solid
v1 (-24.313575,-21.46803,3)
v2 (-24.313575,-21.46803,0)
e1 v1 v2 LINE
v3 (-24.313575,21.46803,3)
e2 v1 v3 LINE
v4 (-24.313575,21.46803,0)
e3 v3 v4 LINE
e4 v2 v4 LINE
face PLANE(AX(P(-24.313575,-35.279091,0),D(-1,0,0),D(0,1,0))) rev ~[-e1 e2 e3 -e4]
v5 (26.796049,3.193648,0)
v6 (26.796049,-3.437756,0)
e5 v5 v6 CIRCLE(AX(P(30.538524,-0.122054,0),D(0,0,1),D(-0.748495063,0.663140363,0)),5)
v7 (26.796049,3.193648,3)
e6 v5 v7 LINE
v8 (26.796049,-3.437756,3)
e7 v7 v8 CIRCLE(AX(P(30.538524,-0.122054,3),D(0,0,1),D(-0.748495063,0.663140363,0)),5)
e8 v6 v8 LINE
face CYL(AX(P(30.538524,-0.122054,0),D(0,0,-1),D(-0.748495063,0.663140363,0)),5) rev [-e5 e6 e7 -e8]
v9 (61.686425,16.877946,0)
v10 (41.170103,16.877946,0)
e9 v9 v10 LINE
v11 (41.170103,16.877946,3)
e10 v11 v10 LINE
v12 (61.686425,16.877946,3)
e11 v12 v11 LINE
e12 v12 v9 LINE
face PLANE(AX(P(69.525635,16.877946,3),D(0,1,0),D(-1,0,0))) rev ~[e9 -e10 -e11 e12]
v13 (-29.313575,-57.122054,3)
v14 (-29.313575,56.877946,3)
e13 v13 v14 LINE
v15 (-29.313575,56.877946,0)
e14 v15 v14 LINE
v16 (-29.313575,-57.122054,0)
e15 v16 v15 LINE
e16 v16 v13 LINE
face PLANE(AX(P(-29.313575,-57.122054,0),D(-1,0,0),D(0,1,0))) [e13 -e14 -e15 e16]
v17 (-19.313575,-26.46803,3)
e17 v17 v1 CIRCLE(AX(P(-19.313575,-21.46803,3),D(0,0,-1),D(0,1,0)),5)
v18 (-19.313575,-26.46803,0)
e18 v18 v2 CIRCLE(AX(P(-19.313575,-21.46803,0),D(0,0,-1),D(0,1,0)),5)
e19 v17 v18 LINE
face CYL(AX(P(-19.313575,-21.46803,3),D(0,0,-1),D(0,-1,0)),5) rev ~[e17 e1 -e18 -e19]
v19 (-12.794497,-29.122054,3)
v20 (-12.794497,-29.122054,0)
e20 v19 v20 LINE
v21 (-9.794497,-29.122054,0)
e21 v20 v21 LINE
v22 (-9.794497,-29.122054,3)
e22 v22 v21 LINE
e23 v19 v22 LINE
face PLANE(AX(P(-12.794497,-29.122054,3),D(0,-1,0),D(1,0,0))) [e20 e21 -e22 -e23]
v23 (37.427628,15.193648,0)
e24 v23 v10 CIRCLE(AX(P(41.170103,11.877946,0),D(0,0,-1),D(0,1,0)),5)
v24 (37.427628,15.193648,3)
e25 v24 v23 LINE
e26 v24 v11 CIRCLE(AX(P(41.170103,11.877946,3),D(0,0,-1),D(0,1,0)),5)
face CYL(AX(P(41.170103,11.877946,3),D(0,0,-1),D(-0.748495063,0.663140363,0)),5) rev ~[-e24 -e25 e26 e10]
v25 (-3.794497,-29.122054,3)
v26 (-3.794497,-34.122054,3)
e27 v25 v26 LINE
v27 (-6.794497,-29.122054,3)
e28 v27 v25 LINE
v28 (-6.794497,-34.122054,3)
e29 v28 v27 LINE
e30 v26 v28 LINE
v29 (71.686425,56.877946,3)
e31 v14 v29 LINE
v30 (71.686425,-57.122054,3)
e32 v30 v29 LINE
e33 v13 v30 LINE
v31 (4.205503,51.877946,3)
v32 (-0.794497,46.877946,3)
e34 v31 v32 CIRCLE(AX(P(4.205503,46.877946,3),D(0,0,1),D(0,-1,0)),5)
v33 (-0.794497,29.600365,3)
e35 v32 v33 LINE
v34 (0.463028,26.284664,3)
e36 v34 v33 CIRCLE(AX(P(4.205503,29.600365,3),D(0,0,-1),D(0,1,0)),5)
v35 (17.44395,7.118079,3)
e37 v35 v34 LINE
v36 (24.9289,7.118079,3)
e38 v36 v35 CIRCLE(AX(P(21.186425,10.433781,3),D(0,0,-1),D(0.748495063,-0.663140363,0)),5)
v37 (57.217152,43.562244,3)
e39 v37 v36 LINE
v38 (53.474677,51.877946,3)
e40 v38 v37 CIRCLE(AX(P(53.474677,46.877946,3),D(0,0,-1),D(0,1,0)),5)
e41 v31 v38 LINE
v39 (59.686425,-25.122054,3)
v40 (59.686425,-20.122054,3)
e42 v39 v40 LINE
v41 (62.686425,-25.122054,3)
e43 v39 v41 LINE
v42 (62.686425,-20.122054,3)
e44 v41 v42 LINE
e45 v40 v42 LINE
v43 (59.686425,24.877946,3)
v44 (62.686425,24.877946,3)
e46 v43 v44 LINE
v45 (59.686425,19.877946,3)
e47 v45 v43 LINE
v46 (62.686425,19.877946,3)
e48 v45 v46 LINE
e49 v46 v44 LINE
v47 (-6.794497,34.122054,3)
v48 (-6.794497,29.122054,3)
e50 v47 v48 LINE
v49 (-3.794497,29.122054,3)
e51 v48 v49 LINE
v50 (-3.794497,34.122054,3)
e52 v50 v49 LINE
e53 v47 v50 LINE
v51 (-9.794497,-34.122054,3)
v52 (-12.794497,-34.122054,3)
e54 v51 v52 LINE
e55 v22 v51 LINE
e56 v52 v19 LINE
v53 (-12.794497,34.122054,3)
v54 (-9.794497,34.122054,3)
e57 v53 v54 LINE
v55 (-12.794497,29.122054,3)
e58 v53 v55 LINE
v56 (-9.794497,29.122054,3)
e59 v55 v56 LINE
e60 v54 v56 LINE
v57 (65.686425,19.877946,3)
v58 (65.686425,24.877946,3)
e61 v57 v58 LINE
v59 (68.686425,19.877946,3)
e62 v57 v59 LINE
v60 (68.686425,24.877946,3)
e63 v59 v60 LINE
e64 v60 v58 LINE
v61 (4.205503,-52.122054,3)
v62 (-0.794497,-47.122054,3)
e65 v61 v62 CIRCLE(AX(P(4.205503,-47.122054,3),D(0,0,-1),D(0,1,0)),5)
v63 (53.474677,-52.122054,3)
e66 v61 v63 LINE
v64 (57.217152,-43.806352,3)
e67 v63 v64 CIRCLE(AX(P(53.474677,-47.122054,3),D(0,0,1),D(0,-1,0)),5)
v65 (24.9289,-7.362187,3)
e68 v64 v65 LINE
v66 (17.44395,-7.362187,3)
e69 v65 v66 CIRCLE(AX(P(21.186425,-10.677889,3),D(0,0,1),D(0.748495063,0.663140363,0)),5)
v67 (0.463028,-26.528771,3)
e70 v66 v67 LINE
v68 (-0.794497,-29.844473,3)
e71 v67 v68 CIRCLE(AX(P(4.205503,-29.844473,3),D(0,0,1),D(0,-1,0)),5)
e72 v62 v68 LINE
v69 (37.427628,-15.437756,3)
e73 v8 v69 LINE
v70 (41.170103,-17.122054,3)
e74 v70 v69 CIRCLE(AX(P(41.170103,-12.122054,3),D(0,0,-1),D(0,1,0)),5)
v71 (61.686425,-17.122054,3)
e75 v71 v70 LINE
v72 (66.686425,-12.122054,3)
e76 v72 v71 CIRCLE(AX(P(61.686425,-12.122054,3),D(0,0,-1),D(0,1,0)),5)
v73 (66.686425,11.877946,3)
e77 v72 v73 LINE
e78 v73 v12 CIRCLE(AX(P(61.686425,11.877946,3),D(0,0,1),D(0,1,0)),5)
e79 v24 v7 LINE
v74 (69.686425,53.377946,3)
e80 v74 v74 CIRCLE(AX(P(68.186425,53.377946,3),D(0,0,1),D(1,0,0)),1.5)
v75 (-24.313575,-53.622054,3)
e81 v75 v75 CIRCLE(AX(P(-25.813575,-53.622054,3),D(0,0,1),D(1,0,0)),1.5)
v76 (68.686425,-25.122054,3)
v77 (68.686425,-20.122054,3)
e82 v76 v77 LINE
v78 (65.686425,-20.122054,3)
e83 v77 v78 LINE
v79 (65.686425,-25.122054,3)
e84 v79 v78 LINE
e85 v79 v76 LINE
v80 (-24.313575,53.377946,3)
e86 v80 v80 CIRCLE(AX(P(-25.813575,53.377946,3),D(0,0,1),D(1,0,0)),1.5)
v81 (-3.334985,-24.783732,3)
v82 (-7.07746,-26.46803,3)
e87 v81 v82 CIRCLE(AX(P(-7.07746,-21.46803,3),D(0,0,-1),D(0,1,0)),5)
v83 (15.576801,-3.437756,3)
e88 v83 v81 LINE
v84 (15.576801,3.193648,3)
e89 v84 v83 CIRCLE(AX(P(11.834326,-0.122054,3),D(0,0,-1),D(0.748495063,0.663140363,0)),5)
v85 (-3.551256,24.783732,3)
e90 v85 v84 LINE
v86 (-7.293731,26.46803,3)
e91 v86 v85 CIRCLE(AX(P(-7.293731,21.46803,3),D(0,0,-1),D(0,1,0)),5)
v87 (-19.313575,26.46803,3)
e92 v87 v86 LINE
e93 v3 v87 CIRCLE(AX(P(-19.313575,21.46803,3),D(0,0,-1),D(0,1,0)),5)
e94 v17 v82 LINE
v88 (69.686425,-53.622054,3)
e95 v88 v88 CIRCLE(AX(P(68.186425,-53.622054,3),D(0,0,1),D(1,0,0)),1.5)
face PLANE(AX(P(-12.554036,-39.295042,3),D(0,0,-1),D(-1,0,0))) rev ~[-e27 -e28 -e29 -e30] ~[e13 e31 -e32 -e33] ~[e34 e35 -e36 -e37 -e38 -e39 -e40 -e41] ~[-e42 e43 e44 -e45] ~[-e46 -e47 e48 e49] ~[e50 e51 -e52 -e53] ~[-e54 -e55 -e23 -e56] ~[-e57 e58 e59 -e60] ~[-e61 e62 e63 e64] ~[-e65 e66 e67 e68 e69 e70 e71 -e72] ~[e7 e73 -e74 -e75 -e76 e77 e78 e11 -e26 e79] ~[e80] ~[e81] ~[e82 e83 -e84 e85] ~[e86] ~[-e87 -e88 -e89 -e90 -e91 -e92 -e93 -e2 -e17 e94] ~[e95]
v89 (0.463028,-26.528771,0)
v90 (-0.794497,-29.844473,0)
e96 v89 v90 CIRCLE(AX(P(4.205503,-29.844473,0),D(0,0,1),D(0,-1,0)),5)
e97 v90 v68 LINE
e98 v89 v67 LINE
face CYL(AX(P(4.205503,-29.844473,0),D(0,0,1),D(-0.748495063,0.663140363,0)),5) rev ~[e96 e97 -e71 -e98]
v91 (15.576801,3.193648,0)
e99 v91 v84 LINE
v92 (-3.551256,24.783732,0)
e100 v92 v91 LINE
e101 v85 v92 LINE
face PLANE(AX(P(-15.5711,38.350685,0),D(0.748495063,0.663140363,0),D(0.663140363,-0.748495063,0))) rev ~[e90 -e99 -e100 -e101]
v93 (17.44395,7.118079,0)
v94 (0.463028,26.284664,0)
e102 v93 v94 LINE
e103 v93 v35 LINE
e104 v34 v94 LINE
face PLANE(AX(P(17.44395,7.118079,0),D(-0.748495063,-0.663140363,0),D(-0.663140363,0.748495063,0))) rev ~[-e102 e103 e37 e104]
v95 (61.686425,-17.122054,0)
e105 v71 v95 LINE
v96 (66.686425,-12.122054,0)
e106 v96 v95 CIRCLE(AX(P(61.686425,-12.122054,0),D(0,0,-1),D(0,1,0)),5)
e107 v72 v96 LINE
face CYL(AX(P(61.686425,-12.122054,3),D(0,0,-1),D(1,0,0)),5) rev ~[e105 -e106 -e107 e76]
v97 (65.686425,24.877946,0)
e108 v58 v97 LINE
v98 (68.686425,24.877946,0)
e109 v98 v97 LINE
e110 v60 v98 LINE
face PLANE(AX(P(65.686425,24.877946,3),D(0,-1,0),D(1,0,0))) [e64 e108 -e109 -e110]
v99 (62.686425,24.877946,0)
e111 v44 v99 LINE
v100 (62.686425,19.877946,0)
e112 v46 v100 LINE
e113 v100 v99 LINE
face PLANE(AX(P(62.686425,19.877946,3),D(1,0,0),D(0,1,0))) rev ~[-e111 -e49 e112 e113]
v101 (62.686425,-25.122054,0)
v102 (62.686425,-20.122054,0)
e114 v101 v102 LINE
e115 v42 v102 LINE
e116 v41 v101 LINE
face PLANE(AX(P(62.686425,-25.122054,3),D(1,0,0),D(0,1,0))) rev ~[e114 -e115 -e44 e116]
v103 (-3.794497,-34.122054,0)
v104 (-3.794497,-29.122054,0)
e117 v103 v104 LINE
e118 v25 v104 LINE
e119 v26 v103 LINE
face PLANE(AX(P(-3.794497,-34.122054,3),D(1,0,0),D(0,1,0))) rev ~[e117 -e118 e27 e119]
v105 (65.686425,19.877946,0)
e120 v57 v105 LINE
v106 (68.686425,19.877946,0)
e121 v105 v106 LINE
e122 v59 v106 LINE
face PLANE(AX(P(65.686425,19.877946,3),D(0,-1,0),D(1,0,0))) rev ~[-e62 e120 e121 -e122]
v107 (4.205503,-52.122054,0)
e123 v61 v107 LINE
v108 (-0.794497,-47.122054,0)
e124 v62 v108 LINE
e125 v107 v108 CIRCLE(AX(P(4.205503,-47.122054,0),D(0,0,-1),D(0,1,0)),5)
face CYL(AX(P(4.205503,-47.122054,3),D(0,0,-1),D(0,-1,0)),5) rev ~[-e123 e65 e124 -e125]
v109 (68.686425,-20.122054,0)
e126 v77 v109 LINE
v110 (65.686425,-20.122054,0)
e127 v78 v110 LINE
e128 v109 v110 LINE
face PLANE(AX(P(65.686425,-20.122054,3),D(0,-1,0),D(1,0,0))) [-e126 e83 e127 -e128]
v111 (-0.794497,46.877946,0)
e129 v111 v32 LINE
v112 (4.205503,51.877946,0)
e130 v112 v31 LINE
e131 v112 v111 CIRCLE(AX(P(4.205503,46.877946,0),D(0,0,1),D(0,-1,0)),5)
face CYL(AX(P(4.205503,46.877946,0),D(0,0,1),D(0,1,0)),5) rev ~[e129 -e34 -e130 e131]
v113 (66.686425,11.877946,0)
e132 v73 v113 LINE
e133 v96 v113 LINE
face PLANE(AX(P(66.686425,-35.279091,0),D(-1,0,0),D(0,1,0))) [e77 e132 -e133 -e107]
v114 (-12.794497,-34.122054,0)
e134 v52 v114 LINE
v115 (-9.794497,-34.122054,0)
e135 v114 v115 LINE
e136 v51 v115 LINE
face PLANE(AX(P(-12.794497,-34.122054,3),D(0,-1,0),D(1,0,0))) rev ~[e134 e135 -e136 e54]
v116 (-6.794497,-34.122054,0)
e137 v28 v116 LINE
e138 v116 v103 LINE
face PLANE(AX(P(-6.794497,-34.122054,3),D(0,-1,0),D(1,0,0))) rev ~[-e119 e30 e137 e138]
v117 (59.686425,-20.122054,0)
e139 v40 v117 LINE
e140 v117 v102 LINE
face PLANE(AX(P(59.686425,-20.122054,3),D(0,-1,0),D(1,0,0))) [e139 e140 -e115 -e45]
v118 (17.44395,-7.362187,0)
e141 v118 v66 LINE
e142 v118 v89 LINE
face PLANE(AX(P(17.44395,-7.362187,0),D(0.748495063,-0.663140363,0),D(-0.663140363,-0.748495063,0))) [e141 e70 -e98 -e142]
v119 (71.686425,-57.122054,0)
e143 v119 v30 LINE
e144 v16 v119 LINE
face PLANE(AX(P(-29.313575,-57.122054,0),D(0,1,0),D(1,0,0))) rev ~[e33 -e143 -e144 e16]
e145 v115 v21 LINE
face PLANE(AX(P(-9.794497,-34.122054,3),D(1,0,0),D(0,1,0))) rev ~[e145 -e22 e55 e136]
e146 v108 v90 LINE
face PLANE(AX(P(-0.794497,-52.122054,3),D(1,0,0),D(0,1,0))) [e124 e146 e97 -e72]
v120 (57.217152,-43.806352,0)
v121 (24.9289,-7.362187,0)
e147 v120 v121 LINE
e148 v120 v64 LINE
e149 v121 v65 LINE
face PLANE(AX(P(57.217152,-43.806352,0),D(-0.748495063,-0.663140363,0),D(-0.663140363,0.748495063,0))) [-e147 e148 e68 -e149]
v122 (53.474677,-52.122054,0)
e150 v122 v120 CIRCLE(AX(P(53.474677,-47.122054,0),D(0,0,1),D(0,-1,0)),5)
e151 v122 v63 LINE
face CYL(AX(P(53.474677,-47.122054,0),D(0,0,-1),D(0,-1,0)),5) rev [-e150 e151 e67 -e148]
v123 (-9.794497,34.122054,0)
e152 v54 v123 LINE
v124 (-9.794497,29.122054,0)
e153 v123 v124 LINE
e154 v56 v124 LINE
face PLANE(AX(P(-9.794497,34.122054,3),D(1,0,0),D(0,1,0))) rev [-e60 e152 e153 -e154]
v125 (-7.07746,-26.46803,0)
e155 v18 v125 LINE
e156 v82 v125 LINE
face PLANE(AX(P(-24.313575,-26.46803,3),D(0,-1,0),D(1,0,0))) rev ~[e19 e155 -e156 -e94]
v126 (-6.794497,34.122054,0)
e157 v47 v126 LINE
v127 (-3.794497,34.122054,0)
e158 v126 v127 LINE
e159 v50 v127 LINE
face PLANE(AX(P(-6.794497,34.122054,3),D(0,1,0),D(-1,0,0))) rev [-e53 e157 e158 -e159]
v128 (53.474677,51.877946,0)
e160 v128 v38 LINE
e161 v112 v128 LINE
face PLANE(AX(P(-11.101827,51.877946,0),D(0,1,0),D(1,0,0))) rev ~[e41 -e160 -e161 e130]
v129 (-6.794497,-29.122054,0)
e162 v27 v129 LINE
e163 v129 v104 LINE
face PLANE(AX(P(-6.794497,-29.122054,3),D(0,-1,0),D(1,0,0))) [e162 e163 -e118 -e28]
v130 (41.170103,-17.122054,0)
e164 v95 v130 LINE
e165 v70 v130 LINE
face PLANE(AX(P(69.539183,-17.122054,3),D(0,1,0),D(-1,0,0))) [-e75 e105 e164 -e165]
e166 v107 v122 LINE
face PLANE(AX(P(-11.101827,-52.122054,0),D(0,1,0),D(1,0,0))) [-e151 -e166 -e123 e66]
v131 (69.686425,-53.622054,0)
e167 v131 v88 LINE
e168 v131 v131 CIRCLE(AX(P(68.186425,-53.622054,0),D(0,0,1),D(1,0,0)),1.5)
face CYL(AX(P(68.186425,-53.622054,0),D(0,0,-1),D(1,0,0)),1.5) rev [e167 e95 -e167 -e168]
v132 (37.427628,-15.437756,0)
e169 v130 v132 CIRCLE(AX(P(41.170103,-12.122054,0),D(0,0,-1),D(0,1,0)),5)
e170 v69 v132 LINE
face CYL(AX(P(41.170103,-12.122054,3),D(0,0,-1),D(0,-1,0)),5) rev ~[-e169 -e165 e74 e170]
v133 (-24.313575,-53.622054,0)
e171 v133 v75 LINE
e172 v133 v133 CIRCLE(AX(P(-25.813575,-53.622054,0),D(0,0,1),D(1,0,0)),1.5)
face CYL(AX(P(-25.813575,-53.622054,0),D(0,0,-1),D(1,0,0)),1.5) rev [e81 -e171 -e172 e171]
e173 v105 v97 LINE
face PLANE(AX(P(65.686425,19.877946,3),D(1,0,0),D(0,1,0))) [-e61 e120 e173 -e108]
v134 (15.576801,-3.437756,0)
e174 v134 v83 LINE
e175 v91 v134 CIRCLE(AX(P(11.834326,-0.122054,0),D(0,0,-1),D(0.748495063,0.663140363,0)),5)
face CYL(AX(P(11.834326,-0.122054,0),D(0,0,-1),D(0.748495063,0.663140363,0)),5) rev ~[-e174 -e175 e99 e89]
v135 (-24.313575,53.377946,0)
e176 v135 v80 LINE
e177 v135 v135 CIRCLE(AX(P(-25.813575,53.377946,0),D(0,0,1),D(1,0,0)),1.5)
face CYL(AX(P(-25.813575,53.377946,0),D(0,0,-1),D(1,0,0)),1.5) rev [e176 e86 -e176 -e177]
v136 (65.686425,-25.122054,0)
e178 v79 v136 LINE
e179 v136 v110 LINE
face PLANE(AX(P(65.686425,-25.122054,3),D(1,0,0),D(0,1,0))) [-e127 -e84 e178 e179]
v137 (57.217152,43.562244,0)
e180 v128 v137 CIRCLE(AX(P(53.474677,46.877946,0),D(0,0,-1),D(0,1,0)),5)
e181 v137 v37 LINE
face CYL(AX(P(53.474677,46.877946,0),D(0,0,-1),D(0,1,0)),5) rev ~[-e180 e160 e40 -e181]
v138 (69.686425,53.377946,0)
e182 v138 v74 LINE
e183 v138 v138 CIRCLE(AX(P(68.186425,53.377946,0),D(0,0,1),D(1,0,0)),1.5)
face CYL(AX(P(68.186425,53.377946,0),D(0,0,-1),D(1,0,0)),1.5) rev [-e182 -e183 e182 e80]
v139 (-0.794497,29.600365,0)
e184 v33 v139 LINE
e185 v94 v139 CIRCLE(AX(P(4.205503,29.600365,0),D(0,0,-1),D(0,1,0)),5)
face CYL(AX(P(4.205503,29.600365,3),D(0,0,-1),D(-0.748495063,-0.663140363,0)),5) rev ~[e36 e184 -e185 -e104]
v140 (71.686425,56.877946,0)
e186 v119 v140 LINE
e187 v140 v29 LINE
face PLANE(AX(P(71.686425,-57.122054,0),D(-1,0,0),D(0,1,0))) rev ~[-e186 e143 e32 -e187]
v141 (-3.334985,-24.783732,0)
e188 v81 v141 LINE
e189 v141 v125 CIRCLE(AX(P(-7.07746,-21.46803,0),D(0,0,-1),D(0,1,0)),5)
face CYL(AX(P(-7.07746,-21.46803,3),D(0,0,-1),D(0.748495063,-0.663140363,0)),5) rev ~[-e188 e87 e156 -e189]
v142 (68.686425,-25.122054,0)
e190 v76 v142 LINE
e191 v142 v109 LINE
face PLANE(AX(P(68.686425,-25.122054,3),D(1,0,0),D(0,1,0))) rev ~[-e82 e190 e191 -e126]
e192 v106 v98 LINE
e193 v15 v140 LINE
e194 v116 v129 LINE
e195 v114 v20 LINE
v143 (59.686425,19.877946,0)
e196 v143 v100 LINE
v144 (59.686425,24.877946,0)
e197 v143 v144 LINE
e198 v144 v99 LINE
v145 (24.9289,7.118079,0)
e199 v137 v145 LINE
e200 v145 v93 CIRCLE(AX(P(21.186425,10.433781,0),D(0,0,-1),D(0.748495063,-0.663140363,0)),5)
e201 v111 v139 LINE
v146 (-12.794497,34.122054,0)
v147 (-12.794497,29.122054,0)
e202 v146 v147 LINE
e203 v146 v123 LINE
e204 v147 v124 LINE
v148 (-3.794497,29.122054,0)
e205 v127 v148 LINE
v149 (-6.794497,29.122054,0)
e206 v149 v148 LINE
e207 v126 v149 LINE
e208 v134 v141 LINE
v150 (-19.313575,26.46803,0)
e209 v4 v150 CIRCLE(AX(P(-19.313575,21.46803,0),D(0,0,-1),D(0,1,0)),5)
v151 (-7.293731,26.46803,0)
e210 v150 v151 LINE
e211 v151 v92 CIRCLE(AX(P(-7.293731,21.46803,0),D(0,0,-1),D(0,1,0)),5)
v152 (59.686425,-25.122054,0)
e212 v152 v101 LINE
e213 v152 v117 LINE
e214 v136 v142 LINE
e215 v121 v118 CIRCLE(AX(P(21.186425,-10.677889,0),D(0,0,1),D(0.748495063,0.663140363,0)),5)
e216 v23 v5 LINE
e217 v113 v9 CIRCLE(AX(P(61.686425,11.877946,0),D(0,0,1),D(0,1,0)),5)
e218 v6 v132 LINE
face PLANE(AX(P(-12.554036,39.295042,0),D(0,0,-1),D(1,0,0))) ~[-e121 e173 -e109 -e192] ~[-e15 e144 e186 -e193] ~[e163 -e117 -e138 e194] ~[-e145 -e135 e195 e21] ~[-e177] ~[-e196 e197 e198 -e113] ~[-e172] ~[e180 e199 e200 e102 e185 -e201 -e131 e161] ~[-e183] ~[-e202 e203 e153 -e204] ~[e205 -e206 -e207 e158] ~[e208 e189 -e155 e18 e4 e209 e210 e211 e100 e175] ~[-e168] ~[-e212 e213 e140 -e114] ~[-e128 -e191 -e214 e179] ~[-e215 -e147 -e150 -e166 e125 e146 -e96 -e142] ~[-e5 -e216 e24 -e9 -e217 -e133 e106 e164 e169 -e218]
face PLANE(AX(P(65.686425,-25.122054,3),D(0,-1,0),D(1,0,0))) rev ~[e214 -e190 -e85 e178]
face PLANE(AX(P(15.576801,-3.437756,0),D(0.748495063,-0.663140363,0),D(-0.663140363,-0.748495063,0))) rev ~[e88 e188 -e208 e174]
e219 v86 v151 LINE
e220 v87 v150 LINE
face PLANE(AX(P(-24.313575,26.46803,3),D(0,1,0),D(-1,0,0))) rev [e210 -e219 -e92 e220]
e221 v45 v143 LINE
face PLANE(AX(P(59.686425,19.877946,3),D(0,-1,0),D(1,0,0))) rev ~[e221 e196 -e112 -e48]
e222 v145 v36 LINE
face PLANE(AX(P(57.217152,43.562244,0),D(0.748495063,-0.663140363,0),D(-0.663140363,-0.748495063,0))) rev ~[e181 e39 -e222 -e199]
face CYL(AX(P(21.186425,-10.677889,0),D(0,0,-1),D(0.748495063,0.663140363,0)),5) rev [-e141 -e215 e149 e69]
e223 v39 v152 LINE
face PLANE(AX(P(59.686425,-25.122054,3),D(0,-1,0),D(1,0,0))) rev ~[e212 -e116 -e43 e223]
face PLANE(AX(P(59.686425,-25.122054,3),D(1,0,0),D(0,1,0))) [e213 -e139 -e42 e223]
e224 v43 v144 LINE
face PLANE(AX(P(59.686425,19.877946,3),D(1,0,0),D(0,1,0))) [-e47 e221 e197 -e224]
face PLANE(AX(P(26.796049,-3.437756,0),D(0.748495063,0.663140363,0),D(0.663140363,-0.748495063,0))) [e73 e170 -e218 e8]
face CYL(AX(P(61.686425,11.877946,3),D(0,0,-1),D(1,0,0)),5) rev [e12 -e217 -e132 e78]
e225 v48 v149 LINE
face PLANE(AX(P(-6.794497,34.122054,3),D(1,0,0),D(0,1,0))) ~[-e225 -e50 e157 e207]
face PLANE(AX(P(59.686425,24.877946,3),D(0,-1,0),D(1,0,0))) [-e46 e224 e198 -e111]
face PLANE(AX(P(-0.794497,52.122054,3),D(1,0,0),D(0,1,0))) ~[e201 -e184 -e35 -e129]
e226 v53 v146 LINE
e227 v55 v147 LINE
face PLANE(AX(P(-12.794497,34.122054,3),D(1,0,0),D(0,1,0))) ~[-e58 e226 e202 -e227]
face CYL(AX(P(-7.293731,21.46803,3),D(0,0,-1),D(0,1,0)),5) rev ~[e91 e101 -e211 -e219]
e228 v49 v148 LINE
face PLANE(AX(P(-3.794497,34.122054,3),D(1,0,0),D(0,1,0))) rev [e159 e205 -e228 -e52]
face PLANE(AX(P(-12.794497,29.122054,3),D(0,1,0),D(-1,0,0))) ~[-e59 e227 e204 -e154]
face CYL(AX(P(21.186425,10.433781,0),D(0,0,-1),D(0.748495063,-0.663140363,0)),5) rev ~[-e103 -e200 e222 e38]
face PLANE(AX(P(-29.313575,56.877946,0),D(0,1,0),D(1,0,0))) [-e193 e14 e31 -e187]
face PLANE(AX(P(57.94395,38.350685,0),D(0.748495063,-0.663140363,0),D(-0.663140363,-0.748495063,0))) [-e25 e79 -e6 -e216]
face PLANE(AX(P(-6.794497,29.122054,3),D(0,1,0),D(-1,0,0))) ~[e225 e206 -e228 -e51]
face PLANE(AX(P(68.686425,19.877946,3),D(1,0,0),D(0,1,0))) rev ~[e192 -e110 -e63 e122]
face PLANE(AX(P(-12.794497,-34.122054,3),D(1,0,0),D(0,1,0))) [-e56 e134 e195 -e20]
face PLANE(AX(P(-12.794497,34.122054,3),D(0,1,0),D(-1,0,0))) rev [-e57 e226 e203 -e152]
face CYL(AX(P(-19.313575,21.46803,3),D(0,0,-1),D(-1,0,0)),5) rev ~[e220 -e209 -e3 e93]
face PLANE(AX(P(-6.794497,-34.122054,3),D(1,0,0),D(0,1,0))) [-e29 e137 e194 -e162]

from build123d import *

# Parameters (mm, degrees)
SKETCH1_R           = 1.5
BOSS_EXTRUDE1_DEPTH = 3
SKETCH2_W           = 3
SKETCH2_H           = 5
BOSS_EXTRUDE2_DEPTH = 3
SKETCH2_2_W         = 3
SKETCH2_2_H         = 5
SKETCH2_2_W_2       = 2
CUT_EXTRUDE1_DEPTH  = 3
SKETCH3_W           = 3
SKETCH3_H           = 5
BOSS_EXTRUDE3_DEPTH = 3
SKETCH3_2_W         = 3
SKETCH3_2_H         = 5
CUT_EXTRUDE2_DEPTH  = 3
FILLET4_R           = 5


with BuildPart() as part:
    # Sketch1 → Boss-Extrude1 (new body)
    with BuildSketch(Plane.XY):
        Polygon((71.686424942, 53.861993355), (71.686424942, 56.877946104), (69.01439663, 56.877946104), (-29.313575058, 56.877946104), (-29.313575058, -54.106101147), (-29.313575058, -57.122053896), (-26.641546745, -57.122053896), (69.01439663, -57.122053896), (71.686424942, -57.122053896), (71.686424942, -54.106101147), align=None)
        with Locations((-25.813575058, -53.622053896)):
            Circle(SKETCH1_R, mode=Mode.SUBTRACT)
        with BuildLine():
            Line((53.474676725, -52.122053896), (-11.101826841, -52.122053896))
            ThreePointArc((-11.101826841, -52.122053896), (-15.66135034, -49.174063999), (-14.844302156, -43.806352082))
            Line((-14.844302156, -43.806352082), (17.443949627, -7.362186703))
            ThreePointArc((17.443949627, -7.362186703), (21.186424942, -5.677888517), (24.928900257, -7.362186703))
            Line((24.928900257, -7.362186703), (57.21715204, -43.806352082))
            ThreePointArc((57.21715204, -43.806352082), (58.034200224, -49.174063999), (53.474676725, -52.122053896))
        make_face(mode=Mode.SUBTRACT)
        with Locations((68.186424942, -53.622053896)):
            Circle(SKETCH1_R, mode=Mode.SUBTRACT)
        with BuildLine():
            ThreePointArc((-15.571099743, -38.594792376), (-21.086654783, -39.954150806), (-24.313575058, -35.279090562))
            Line((-24.313575058, -35.279090562), (-24.313575058, 35.03498277))
            ThreePointArc((-24.313575058, 35.03498277), (-21.086654783, 39.710043015), (-15.571099743, 38.350684584))
            Line((-15.571099743, 38.350684584), (15.576801163, 3.193647918))
            ThreePointArc((15.576801163, 3.193647918), (16.834325848, -0.122053896), (15.576801163, -3.43775571))
            Line((15.576801163, -3.43775571), (-15.571099743, -38.594792376))
        make_face(mode=Mode.SUBTRACT)
        with Locations((-25.813575058, 53.377946104)):
            Circle(SKETCH1_R, mode=Mode.SUBTRACT)
        with BuildLine():
            Line((66.686424942, 35.03498277), (66.686424942, -35.279090562))
            ThreePointArc((66.686424942, -35.279090562), (63.459504668, -39.954150806), (57.943949627, -38.594792376))
            Line((57.943949627, -38.594792376), (26.796048721, -3.43775571))
            ThreePointArc((26.796048721, -3.43775571), (25.538524036, -0.122053896), (26.796048721, 3.193647918))
            Line((26.796048721, 3.193647918), (57.943949627, 38.350684584))
            ThreePointArc((57.943949627, 38.350684584), (63.459504668, 39.710043015), (66.686424942, 35.03498277))
        make_face(mode=Mode.SUBTRACT)
        with BuildLine():
            ThreePointArc((-14.844302156, 43.56224429), (-15.66135034, 48.929956208), (-11.101826841, 51.877946104))
            Line((-11.101826841, 51.877946104), (53.474676725, 51.877946104))
            ThreePointArc((53.474676725, 51.877946104), (58.034200224, 48.929956208), (57.21715204, 43.56224429))
            Line((57.21715204, 43.56224429), (24.928900257, 7.118078911))
            ThreePointArc((24.928900257, 7.118078911), (21.186424942, 5.433780725), (17.443949627, 7.118078911))
            Line((17.443949627, 7.118078911), (-14.844302156, 43.56224429))
        make_face(mode=Mode.SUBTRACT)
        with Locations((68.186424942, 53.377946104)):
            Circle(SKETCH1_R, mode=Mode.SUBTRACT)
    extrude(amount=BOSS_EXTRUDE1_DEPTH)

    # Sketch2 → Boss-Extrude2 (add)
    # profile 1 of 2: a face of its own
    with BuildSketch(Plane.XY.offset(3)):
        Polygon((69.525635116, 16.877946104), (38.919856763, 16.877946104), (69.525635116, 52.236469223), align=None)
        with Locations((67.186424942, 22.377946104)):
            Rectangle(SKETCH2_W, SKETCH2_H, mode=Mode.SUBTRACT)
        with Locations((61.186424942, 22.377946104)):
            Rectangle(SKETCH2_W, SKETCH2_H, mode=Mode.SUBTRACT)
    # profile 2 of 2: a face of its own
    with BuildSketch(Plane.XY.offset(3)):
        Polygon((69.539183497, -17.122053896), (38.919856763, -17.122053896), (69.539183497, -51.682482091), align=None)
        with Locations((67.186424942, -22.622053896)):
            Rectangle(SKETCH2_W, SKETCH2_H, mode=Mode.SUBTRACT)
        with Locations((61.186424942, -22.622053896)):
            Rectangle(SKETCH2_W, SKETCH2_H, mode=Mode.SUBTRACT)
    extrude(amount=-BOSS_EXTRUDE2_DEPTH)

    # Sketch2<2> → Cut-Extrude1 (cut)
    with BuildSketch(Plane.XY.offset(3)):
        with Locations((67.186424942, -22.622053896)):
            Rectangle(SKETCH2_2_W, SKETCH2_2_H)
        with Locations((67.686424942, 22.377946104)):
            Rectangle(SKETCH2_2_W_2, SKETCH2_2_H)
    extrude(amount=-CUT_EXTRUDE1_DEPTH, mode=Mode.SUBTRACT)

    # Sketch3 → Boss-Extrude3 (add)
    with BuildSketch(Plane.XY.offset(3)):
        Polygon((-0.794496608, -27.948155721), (-0.794496608, -52.122053896), (-24.313575058, -52.122053896), (-24.313575058, -26.468030189), (-0.794496608, -26.468030189), align=None)
        with Locations((-11.294496608, -31.622053896)):
            Rectangle(SKETCH3_W, SKETCH3_H, mode=Mode.SUBTRACT)
        with Locations((-5.294496608, -31.622053896)):
            Rectangle(SKETCH3_W, SKETCH3_H, mode=Mode.SUBTRACT)
    boss_extrude3 = extrude(amount=-BOSS_EXTRUDE3_DEPTH)

    # Sketch3<2> → Cut-Extrude2 (cut)
    with BuildSketch(Plane.XY.offset(3)):
        with Locations((-11.294496608, -31.622053896)):
            Rectangle(SKETCH3_2_W, SKETCH3_2_H)
        with Locations((-5.294496608, -31.622053896)):
            Rectangle(SKETCH3_2_W, SKETCH3_2_H)
    cut_extrude2 = extrude(amount=-CUT_EXTRUDE2_DEPTH, mode=Mode.SUBTRACT)

    # Mirror1: Boss-Extrude3, Cut-Extrude2 across plane
    add(boss_extrude3.mirror(Plane.ZX))
    add(cut_extrude2.mirror(Plane.ZX), mode=Mode.SUBTRACT)

    # Fillet4
    fillet4_edges = [part.edges().sort_by_distance(p)[0] for p in [
        (-4.827213946, -26.468030189, 1.5),
        (-24.313575058, -26.468030189, 1.5),
        (-0.794496608, -52.122053896, 1.5),
        (-0.794496608, -27.948155721, 1.5),
        (-0.794496608, 51.877946104, 1.5),
        (-0.794496608, 27.70404793, 1.5),
        (-24.313575058, 26.468030189, 1.5),
        (-5.043484884, 26.468030189, 1.5),
        (38.919856763, 16.877946104, 1.5),
        (66.686424942, 16.877946104, 1.5),
        (66.686424942, -17.122053896, 1.5),
        (38.919856763, -17.122053896, 1.5),
    ]]
    fillet(fillet4_edges, radius=FILLET4_R)


solid = part.part
